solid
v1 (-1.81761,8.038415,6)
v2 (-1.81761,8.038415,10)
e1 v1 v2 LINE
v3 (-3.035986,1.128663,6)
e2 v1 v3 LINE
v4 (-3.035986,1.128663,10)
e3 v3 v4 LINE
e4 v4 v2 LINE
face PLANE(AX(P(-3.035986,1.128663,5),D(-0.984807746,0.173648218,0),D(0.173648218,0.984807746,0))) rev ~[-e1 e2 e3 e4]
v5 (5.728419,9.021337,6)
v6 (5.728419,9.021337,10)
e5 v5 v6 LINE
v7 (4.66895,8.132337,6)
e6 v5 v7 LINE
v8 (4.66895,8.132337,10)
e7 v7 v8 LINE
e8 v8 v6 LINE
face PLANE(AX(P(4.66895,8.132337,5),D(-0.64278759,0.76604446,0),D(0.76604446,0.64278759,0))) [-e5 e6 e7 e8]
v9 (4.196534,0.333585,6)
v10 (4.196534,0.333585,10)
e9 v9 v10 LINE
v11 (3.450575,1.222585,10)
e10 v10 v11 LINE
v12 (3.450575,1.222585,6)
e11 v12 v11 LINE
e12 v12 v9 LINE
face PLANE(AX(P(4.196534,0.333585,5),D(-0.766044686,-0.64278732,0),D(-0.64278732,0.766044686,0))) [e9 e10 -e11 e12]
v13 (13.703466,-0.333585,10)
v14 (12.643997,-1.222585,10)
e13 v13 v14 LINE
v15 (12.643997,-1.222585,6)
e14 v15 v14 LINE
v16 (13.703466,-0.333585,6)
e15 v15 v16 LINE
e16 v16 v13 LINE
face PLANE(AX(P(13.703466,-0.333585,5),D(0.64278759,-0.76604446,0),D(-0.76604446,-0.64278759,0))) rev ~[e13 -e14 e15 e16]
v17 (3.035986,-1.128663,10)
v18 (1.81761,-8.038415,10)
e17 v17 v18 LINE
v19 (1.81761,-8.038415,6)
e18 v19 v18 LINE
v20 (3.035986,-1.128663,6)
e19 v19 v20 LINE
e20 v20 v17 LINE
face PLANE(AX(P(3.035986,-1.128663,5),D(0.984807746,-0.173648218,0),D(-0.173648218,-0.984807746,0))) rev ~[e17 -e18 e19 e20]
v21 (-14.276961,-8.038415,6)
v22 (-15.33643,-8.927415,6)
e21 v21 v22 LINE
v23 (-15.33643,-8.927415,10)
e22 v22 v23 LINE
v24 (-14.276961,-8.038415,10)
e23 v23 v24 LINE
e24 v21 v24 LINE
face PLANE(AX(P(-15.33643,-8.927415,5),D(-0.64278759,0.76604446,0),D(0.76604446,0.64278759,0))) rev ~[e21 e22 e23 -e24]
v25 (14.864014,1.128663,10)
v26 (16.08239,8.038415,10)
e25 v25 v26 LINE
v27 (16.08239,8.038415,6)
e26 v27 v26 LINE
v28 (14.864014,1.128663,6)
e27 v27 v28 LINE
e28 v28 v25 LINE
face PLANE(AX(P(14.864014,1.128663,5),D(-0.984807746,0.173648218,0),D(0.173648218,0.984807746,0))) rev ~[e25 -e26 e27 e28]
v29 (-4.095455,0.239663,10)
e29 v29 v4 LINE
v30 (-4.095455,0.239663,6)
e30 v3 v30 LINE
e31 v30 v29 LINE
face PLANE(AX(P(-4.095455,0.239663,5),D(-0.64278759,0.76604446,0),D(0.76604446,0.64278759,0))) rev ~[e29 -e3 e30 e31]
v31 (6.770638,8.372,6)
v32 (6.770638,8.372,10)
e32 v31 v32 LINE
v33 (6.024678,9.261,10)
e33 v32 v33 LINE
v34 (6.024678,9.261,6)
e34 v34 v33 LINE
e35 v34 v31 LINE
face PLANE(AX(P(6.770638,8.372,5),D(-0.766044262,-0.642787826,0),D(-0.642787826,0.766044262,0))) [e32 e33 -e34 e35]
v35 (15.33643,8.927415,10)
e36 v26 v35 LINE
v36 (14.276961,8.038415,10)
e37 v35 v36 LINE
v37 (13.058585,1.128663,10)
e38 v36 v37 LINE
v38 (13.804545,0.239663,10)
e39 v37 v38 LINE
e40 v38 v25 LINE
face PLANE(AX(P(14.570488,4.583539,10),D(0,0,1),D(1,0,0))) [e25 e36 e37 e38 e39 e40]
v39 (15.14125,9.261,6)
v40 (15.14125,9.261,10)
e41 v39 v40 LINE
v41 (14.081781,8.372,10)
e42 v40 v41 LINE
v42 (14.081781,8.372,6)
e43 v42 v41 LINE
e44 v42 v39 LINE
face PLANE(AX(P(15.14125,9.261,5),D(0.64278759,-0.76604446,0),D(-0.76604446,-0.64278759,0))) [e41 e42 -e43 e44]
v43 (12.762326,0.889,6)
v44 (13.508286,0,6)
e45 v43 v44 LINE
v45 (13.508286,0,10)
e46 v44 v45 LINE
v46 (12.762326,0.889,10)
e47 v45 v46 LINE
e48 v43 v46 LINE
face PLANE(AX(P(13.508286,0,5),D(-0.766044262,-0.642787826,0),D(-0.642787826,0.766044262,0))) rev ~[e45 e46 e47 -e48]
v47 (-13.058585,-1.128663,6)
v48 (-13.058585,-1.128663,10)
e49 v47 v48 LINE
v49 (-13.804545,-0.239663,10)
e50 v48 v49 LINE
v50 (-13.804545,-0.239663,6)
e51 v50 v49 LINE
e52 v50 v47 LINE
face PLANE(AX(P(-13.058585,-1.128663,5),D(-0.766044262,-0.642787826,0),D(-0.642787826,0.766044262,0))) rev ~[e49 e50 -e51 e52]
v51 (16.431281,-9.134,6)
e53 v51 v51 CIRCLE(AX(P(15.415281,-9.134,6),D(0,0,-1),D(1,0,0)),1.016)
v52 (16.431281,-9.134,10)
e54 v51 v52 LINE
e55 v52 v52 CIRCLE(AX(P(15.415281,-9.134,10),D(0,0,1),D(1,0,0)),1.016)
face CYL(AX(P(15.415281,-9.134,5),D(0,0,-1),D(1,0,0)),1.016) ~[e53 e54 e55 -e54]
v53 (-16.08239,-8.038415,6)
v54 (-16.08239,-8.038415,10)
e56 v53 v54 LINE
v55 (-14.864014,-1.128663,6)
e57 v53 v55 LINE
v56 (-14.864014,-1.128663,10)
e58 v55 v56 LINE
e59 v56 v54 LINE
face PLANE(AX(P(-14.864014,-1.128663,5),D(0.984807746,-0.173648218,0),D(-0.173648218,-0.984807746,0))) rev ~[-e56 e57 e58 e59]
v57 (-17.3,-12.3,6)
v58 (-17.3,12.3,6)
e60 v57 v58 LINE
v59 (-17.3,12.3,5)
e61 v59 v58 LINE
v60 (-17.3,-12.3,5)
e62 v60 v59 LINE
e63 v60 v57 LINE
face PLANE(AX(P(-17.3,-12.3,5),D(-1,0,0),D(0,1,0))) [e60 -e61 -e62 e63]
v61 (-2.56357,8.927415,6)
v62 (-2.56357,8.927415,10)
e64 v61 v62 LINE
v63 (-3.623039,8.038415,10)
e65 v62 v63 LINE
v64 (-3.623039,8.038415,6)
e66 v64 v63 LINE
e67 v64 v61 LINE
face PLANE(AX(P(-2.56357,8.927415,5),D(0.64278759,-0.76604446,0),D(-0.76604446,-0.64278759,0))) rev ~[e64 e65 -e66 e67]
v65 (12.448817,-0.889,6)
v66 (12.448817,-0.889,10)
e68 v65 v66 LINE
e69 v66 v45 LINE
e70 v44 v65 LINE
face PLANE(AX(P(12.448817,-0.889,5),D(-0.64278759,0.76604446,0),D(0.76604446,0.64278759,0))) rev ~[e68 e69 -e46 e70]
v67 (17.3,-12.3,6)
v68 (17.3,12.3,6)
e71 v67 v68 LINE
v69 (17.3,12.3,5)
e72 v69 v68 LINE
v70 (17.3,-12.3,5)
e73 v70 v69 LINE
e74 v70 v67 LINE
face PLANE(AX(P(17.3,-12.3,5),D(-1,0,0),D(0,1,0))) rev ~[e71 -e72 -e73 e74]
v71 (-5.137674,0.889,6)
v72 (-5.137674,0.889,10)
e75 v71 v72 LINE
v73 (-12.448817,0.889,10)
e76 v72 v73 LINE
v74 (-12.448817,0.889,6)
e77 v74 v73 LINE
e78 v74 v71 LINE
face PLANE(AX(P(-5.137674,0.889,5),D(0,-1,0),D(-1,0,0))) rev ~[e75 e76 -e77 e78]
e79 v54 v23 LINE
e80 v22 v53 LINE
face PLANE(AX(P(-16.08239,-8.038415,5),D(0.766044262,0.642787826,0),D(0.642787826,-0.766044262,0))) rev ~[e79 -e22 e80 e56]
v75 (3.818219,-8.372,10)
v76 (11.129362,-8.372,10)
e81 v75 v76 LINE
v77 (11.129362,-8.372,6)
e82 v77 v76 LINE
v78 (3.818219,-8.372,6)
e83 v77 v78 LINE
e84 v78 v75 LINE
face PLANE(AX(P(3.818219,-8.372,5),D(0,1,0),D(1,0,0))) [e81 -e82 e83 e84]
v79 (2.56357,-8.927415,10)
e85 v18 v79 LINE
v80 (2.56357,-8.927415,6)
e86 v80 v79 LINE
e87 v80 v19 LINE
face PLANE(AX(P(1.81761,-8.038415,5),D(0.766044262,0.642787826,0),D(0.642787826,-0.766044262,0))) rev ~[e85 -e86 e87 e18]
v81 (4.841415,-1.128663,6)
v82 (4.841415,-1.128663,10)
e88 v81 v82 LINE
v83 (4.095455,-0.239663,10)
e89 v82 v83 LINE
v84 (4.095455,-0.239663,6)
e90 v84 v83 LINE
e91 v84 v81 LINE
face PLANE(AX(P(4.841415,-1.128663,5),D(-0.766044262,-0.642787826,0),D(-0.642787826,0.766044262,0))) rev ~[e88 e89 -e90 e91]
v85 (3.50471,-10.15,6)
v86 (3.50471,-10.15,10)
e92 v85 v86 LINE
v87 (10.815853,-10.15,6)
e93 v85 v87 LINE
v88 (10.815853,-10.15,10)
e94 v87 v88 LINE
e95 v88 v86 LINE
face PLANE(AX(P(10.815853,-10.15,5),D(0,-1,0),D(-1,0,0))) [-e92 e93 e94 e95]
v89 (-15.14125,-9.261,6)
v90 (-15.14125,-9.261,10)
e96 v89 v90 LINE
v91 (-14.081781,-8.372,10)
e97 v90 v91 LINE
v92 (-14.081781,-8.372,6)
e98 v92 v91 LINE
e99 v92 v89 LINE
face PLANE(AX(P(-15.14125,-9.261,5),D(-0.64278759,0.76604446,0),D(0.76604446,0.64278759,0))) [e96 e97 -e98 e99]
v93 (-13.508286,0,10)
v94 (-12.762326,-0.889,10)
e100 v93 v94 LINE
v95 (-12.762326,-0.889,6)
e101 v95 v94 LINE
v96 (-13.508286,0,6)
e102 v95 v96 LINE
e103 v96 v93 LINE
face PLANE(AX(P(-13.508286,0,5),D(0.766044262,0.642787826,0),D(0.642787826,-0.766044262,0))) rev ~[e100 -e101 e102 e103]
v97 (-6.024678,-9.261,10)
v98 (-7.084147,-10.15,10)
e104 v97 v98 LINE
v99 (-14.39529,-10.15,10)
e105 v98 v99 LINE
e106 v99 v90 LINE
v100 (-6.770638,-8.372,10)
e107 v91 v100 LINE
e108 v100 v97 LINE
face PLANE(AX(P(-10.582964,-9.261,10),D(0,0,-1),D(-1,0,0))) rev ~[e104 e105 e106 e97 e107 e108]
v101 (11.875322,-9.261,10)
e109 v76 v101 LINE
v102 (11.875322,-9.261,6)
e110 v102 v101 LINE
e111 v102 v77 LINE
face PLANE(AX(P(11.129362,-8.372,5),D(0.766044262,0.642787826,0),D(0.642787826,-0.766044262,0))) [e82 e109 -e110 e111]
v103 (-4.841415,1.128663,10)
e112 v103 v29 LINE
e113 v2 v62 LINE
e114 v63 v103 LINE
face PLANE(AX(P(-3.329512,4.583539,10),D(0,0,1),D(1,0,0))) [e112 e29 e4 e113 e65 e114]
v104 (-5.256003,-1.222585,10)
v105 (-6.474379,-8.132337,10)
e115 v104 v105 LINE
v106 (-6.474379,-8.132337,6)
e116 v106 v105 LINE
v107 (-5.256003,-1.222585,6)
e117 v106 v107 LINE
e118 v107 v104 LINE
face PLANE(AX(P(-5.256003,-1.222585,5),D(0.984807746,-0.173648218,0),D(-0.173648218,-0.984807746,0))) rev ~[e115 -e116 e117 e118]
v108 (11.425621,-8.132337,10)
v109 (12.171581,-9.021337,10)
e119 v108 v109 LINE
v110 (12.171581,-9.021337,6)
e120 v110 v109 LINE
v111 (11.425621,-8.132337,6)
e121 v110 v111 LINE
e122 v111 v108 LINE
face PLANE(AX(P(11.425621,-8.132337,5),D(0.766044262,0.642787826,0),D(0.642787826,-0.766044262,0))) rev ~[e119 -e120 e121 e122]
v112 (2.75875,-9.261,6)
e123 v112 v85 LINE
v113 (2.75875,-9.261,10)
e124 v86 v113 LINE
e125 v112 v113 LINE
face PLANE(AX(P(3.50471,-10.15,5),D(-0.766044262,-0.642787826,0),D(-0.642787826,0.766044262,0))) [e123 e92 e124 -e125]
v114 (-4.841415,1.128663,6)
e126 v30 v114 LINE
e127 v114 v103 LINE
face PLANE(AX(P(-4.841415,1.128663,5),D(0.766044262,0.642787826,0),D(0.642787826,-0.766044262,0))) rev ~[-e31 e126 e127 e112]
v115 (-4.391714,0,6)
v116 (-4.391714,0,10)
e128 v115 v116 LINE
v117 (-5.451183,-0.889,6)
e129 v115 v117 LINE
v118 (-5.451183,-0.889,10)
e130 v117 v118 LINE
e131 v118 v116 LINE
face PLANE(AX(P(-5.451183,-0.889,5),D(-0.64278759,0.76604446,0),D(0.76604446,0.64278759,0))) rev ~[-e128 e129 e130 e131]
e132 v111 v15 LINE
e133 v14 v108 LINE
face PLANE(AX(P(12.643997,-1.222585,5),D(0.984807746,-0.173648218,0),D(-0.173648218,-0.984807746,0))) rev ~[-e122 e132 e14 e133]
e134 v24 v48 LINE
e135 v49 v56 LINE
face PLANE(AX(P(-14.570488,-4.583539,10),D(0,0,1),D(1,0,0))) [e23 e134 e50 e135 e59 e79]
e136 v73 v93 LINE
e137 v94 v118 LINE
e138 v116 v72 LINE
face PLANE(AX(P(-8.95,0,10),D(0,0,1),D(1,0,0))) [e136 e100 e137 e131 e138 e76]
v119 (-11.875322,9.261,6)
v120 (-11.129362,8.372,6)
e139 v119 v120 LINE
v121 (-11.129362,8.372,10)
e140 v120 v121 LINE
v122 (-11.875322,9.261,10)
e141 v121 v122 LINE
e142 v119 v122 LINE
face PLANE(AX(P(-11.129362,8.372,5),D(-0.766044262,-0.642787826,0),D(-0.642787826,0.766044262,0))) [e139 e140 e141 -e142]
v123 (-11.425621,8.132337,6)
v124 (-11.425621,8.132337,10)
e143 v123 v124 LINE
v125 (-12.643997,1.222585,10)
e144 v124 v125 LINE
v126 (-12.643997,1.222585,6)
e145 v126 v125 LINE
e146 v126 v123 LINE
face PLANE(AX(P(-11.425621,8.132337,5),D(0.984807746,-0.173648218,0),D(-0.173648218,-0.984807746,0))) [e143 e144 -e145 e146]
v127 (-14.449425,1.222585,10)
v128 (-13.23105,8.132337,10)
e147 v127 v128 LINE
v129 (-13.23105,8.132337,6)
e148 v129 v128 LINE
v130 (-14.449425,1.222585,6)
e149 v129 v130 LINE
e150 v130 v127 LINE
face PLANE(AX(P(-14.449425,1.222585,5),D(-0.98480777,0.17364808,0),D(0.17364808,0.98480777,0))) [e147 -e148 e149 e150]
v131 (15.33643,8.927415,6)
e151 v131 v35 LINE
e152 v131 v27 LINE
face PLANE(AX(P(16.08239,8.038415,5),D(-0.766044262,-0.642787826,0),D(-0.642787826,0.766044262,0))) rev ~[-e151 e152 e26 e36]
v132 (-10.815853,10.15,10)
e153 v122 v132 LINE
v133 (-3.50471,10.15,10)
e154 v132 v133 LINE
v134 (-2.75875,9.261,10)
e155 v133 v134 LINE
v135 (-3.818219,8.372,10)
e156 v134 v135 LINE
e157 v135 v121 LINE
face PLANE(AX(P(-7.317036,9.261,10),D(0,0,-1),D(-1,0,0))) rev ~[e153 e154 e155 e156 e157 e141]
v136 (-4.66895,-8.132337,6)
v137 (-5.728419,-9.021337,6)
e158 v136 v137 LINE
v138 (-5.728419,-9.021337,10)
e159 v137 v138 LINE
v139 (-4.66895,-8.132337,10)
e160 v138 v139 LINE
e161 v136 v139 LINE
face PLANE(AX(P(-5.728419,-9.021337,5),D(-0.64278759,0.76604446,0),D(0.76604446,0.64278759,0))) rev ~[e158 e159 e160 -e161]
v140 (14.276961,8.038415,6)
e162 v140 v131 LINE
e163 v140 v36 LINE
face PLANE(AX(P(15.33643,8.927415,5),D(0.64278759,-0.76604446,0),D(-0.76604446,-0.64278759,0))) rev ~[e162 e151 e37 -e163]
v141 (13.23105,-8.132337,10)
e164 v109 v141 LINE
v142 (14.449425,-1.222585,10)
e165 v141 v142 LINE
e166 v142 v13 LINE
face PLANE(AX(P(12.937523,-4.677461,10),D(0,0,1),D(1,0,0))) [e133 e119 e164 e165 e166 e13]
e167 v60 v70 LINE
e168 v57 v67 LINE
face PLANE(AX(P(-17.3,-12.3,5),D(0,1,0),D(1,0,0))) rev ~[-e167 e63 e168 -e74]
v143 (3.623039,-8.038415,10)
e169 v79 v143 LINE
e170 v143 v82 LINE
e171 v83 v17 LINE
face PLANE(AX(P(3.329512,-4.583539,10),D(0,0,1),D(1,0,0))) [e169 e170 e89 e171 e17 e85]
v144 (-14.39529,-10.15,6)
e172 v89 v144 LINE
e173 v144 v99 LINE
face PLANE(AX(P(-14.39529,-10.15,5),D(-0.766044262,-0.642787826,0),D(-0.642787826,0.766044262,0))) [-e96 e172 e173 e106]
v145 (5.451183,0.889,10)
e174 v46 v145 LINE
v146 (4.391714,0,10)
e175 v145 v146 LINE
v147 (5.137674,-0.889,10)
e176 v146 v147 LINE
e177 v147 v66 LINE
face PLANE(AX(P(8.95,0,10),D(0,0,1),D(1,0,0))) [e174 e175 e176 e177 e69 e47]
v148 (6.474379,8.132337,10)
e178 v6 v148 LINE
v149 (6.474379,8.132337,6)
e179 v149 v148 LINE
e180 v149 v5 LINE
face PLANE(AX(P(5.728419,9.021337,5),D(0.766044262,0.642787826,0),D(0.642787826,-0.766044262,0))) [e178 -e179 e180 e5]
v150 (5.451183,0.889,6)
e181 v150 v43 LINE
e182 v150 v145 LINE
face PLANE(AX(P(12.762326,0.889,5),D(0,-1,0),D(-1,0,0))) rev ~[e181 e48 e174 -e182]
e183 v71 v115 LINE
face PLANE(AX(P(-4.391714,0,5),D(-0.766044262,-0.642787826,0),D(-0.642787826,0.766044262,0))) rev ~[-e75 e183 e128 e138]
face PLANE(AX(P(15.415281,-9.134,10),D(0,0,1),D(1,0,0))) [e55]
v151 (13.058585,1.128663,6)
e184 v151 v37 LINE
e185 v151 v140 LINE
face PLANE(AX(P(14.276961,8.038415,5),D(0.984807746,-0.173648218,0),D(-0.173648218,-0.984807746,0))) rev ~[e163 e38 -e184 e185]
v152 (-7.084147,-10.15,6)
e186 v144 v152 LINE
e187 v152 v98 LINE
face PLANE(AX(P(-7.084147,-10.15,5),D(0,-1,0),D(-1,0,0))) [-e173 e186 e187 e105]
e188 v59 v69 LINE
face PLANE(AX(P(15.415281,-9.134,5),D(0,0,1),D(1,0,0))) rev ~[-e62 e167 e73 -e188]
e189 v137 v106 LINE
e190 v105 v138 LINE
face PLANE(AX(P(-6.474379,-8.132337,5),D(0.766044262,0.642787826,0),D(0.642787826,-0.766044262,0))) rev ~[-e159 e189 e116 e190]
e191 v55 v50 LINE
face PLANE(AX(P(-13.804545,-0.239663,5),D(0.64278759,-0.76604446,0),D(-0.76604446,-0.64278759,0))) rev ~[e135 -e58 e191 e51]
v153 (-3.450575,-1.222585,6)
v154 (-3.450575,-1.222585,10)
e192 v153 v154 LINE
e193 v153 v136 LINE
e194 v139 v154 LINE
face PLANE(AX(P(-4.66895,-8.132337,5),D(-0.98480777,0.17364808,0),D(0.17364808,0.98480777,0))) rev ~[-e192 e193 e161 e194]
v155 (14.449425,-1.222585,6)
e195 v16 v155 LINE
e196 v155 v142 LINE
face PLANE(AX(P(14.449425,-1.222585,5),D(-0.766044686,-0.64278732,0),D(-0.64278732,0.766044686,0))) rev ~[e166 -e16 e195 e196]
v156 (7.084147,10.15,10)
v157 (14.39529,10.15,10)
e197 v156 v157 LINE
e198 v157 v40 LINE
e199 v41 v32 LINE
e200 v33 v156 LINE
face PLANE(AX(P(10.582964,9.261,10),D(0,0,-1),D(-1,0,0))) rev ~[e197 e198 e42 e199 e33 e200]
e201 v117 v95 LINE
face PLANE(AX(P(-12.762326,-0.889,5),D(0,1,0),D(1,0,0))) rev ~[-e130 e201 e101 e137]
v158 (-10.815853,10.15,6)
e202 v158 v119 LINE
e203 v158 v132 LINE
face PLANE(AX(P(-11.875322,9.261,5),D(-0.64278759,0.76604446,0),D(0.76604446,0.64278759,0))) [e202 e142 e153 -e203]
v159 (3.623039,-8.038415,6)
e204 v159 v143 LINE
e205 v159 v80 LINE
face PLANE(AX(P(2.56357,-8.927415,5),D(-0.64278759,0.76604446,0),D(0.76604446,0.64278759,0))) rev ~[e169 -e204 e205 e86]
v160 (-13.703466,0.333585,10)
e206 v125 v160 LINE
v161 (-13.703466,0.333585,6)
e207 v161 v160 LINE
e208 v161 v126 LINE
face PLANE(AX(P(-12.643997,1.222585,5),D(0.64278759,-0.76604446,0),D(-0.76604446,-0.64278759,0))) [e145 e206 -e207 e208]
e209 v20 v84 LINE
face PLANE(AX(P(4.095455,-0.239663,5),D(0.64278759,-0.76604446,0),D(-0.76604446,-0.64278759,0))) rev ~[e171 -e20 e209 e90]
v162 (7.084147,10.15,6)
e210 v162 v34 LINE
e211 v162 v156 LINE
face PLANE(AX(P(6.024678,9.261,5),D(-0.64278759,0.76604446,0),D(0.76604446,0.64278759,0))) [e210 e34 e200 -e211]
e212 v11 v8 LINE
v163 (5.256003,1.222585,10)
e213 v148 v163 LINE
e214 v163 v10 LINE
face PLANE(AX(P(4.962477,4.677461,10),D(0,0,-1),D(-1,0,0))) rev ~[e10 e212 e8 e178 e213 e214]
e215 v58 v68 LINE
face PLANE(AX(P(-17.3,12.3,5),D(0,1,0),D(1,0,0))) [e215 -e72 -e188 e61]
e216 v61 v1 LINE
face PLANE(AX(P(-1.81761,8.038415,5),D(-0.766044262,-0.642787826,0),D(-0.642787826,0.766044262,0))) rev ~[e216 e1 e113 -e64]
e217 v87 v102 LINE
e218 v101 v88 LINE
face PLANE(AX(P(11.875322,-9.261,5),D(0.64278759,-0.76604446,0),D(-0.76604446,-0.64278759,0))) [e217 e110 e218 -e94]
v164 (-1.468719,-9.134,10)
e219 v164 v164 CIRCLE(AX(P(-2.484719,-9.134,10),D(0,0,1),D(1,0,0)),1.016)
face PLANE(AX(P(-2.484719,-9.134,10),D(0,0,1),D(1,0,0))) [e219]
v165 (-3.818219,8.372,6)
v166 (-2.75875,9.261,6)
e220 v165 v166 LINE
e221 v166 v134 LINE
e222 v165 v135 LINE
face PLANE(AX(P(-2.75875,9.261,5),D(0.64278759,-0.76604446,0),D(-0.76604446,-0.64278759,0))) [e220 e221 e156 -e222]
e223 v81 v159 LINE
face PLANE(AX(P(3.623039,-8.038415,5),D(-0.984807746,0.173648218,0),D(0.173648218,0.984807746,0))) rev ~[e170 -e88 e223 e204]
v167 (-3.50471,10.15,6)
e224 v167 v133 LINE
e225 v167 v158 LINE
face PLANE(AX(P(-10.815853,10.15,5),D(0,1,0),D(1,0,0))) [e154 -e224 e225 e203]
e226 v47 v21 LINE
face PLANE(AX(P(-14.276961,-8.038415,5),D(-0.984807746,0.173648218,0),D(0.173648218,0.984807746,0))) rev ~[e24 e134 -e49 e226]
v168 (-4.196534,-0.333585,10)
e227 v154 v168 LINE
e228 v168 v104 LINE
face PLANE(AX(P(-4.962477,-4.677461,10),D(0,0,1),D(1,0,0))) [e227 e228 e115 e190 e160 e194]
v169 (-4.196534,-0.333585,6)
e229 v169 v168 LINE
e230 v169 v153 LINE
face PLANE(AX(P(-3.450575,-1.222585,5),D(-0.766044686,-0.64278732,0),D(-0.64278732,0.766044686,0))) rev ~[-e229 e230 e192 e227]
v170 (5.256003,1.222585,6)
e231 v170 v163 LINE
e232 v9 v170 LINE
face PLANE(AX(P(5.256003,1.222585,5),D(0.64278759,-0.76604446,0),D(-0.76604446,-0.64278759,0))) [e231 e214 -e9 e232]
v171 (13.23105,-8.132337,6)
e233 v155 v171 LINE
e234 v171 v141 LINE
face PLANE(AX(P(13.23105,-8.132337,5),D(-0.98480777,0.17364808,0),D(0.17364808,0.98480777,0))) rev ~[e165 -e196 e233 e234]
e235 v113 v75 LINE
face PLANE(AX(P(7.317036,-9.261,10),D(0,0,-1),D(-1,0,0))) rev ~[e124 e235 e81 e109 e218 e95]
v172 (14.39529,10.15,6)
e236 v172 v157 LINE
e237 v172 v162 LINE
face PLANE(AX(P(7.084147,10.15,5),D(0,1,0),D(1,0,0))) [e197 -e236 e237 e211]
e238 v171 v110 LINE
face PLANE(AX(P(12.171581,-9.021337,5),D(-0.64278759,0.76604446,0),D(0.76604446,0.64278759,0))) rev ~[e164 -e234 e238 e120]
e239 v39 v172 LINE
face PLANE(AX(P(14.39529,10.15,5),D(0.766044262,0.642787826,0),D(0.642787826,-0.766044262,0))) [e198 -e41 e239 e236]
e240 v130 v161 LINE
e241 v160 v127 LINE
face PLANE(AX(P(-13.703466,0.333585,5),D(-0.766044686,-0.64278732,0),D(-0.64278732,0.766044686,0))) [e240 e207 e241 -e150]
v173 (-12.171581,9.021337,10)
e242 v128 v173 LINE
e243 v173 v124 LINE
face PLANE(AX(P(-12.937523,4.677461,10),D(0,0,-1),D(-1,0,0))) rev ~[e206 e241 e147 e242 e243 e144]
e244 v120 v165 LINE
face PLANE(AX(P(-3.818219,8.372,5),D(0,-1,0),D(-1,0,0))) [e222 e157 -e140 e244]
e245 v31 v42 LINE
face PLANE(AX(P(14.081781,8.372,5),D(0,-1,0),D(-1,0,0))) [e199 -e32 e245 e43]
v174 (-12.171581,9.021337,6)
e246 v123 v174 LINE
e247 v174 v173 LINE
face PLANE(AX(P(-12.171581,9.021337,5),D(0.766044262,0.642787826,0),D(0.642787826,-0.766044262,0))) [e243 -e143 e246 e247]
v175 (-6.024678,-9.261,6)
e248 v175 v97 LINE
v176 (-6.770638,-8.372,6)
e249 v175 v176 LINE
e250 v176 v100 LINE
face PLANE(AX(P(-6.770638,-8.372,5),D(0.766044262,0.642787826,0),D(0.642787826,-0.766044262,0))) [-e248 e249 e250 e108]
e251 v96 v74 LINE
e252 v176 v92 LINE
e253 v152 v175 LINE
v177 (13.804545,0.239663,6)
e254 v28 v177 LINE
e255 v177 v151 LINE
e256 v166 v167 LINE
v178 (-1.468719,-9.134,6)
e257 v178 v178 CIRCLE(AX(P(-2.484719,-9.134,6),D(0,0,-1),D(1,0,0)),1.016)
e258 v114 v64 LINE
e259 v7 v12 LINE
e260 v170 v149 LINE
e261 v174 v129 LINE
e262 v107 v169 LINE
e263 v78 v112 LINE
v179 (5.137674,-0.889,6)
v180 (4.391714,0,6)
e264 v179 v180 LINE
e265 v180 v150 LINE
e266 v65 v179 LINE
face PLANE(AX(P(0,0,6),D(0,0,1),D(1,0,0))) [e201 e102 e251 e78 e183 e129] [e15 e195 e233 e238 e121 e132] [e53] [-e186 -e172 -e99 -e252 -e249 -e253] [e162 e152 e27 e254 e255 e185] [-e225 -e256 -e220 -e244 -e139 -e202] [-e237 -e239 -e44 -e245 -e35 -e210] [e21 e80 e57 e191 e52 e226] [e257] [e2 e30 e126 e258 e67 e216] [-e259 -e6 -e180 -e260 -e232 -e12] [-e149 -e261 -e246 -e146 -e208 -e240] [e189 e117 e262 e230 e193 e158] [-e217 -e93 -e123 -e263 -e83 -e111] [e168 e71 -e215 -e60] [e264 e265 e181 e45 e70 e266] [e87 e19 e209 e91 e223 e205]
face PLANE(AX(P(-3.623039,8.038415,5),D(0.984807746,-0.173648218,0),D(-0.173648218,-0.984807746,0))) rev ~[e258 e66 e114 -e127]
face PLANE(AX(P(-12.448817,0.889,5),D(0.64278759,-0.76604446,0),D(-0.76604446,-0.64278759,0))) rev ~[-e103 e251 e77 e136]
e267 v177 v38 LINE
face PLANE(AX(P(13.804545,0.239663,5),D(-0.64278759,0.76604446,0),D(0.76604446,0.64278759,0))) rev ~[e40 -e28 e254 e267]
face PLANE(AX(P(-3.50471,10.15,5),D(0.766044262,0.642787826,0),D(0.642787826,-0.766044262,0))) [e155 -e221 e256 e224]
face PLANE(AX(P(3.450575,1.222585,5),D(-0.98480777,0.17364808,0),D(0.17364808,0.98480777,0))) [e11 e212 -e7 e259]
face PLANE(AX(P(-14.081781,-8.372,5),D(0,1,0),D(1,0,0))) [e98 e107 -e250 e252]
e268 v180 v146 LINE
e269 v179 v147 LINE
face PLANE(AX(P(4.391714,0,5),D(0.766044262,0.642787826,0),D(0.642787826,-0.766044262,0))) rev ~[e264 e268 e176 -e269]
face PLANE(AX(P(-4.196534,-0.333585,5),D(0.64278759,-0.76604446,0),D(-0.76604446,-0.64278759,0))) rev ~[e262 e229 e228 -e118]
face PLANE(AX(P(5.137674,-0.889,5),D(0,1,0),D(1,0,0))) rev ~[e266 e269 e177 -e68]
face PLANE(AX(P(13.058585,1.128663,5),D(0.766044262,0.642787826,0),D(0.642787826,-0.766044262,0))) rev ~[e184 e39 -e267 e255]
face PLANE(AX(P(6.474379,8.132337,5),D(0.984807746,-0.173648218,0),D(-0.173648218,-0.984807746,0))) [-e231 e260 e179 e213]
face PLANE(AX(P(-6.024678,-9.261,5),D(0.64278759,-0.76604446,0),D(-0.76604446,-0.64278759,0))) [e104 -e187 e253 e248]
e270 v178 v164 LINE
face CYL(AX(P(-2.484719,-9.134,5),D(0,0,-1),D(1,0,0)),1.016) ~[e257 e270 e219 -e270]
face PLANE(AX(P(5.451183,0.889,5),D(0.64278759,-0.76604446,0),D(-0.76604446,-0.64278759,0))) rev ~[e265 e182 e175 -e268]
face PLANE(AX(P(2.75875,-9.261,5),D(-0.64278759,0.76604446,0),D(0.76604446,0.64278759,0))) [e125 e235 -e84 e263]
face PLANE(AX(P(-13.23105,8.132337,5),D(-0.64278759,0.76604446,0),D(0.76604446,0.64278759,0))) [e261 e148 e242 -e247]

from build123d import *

# Parameters (mm, degrees)
SKETCH_W            = 34.6
SKETCH_H            = 24.6
PAD001_DEPTH        = 1
SKETCH002_R         = 1.016
PAD002_DEPTH        = 5
LINEARPATTERN_COUNT = 2
LINEARPATTERN_PITCH = 17.9


with BuildPart() as part:
    # Sketch → Pad001 (new body)
    with BuildSketch(Plane.XY):
        Rectangle(SKETCH_W, SKETCH_H)
    extrude(amount=PAD001_DEPTH)

    # Sketch002 → Pad002 (join)
    with BuildSketch(Plane.XY):
        with Locations((-2.484719, -9.134)):
            Circle(SKETCH002_R)
        Polygon((-11.875322, 9.261), (-10.815853, 10.15), (-3.50471, 10.15), (-2.75875, 9.261), (-3.818219, 8.372), (-11.129362, 8.372), align=None)
        Polygon((-12.171581, 9.021337), (-11.425621, 8.132337), (-12.643997, 1.222585), (-13.703466, 0.333585), (-14.449425, 1.222585), (-13.23105, 8.132337), align=None)
        Polygon((-2.56357, 8.927415), (-3.623039, 8.038415), (-4.841415, 1.128663), (-4.095455, 0.239663), (-3.035986, 1.128663), (-1.81761, 8.038415), align=None)
        Polygon((-12.448817, 0.889), (-13.508286, 0), (-12.762326, -0.889), (-5.451183, -0.889), (-4.391714, 0), (-5.137674, 0.889), align=None)
        Polygon((-13.804545, -0.239663), (-14.864014, -1.128663), (-16.08239, -8.038415), (-15.33643, -8.927415), (-14.276961, -8.038415), (-13.058585, -1.128663), align=None)
        Polygon((-4.196534, -0.333585), (-5.256003, -1.222585), (-6.474379, -8.132337), (-5.728419, -9.021337), (-4.66895, -8.132337), (-3.450575, -1.222585), align=None)
        Polygon((-15.14125, -9.261), (-14.081781, -8.372), (-6.770638, -8.372), (-6.024678, -9.261), (-7.084147, -10.15), (-14.39529, -10.15), align=None)
    pad002 = extrude(amount=PAD002_DEPTH)

    # LinearPattern: Pad002 ×2
    with Locations(*[(i * LINEARPATTERN_PITCH, 0, 0) for i in range(1, LINEARPATTERN_COUNT)]):
        add(pad002)


with BuildPart() as part_1:
    # Body001 placement: moved
    add(part.part.moved(Location((0, 0, 5))))


solid = part_1.part
